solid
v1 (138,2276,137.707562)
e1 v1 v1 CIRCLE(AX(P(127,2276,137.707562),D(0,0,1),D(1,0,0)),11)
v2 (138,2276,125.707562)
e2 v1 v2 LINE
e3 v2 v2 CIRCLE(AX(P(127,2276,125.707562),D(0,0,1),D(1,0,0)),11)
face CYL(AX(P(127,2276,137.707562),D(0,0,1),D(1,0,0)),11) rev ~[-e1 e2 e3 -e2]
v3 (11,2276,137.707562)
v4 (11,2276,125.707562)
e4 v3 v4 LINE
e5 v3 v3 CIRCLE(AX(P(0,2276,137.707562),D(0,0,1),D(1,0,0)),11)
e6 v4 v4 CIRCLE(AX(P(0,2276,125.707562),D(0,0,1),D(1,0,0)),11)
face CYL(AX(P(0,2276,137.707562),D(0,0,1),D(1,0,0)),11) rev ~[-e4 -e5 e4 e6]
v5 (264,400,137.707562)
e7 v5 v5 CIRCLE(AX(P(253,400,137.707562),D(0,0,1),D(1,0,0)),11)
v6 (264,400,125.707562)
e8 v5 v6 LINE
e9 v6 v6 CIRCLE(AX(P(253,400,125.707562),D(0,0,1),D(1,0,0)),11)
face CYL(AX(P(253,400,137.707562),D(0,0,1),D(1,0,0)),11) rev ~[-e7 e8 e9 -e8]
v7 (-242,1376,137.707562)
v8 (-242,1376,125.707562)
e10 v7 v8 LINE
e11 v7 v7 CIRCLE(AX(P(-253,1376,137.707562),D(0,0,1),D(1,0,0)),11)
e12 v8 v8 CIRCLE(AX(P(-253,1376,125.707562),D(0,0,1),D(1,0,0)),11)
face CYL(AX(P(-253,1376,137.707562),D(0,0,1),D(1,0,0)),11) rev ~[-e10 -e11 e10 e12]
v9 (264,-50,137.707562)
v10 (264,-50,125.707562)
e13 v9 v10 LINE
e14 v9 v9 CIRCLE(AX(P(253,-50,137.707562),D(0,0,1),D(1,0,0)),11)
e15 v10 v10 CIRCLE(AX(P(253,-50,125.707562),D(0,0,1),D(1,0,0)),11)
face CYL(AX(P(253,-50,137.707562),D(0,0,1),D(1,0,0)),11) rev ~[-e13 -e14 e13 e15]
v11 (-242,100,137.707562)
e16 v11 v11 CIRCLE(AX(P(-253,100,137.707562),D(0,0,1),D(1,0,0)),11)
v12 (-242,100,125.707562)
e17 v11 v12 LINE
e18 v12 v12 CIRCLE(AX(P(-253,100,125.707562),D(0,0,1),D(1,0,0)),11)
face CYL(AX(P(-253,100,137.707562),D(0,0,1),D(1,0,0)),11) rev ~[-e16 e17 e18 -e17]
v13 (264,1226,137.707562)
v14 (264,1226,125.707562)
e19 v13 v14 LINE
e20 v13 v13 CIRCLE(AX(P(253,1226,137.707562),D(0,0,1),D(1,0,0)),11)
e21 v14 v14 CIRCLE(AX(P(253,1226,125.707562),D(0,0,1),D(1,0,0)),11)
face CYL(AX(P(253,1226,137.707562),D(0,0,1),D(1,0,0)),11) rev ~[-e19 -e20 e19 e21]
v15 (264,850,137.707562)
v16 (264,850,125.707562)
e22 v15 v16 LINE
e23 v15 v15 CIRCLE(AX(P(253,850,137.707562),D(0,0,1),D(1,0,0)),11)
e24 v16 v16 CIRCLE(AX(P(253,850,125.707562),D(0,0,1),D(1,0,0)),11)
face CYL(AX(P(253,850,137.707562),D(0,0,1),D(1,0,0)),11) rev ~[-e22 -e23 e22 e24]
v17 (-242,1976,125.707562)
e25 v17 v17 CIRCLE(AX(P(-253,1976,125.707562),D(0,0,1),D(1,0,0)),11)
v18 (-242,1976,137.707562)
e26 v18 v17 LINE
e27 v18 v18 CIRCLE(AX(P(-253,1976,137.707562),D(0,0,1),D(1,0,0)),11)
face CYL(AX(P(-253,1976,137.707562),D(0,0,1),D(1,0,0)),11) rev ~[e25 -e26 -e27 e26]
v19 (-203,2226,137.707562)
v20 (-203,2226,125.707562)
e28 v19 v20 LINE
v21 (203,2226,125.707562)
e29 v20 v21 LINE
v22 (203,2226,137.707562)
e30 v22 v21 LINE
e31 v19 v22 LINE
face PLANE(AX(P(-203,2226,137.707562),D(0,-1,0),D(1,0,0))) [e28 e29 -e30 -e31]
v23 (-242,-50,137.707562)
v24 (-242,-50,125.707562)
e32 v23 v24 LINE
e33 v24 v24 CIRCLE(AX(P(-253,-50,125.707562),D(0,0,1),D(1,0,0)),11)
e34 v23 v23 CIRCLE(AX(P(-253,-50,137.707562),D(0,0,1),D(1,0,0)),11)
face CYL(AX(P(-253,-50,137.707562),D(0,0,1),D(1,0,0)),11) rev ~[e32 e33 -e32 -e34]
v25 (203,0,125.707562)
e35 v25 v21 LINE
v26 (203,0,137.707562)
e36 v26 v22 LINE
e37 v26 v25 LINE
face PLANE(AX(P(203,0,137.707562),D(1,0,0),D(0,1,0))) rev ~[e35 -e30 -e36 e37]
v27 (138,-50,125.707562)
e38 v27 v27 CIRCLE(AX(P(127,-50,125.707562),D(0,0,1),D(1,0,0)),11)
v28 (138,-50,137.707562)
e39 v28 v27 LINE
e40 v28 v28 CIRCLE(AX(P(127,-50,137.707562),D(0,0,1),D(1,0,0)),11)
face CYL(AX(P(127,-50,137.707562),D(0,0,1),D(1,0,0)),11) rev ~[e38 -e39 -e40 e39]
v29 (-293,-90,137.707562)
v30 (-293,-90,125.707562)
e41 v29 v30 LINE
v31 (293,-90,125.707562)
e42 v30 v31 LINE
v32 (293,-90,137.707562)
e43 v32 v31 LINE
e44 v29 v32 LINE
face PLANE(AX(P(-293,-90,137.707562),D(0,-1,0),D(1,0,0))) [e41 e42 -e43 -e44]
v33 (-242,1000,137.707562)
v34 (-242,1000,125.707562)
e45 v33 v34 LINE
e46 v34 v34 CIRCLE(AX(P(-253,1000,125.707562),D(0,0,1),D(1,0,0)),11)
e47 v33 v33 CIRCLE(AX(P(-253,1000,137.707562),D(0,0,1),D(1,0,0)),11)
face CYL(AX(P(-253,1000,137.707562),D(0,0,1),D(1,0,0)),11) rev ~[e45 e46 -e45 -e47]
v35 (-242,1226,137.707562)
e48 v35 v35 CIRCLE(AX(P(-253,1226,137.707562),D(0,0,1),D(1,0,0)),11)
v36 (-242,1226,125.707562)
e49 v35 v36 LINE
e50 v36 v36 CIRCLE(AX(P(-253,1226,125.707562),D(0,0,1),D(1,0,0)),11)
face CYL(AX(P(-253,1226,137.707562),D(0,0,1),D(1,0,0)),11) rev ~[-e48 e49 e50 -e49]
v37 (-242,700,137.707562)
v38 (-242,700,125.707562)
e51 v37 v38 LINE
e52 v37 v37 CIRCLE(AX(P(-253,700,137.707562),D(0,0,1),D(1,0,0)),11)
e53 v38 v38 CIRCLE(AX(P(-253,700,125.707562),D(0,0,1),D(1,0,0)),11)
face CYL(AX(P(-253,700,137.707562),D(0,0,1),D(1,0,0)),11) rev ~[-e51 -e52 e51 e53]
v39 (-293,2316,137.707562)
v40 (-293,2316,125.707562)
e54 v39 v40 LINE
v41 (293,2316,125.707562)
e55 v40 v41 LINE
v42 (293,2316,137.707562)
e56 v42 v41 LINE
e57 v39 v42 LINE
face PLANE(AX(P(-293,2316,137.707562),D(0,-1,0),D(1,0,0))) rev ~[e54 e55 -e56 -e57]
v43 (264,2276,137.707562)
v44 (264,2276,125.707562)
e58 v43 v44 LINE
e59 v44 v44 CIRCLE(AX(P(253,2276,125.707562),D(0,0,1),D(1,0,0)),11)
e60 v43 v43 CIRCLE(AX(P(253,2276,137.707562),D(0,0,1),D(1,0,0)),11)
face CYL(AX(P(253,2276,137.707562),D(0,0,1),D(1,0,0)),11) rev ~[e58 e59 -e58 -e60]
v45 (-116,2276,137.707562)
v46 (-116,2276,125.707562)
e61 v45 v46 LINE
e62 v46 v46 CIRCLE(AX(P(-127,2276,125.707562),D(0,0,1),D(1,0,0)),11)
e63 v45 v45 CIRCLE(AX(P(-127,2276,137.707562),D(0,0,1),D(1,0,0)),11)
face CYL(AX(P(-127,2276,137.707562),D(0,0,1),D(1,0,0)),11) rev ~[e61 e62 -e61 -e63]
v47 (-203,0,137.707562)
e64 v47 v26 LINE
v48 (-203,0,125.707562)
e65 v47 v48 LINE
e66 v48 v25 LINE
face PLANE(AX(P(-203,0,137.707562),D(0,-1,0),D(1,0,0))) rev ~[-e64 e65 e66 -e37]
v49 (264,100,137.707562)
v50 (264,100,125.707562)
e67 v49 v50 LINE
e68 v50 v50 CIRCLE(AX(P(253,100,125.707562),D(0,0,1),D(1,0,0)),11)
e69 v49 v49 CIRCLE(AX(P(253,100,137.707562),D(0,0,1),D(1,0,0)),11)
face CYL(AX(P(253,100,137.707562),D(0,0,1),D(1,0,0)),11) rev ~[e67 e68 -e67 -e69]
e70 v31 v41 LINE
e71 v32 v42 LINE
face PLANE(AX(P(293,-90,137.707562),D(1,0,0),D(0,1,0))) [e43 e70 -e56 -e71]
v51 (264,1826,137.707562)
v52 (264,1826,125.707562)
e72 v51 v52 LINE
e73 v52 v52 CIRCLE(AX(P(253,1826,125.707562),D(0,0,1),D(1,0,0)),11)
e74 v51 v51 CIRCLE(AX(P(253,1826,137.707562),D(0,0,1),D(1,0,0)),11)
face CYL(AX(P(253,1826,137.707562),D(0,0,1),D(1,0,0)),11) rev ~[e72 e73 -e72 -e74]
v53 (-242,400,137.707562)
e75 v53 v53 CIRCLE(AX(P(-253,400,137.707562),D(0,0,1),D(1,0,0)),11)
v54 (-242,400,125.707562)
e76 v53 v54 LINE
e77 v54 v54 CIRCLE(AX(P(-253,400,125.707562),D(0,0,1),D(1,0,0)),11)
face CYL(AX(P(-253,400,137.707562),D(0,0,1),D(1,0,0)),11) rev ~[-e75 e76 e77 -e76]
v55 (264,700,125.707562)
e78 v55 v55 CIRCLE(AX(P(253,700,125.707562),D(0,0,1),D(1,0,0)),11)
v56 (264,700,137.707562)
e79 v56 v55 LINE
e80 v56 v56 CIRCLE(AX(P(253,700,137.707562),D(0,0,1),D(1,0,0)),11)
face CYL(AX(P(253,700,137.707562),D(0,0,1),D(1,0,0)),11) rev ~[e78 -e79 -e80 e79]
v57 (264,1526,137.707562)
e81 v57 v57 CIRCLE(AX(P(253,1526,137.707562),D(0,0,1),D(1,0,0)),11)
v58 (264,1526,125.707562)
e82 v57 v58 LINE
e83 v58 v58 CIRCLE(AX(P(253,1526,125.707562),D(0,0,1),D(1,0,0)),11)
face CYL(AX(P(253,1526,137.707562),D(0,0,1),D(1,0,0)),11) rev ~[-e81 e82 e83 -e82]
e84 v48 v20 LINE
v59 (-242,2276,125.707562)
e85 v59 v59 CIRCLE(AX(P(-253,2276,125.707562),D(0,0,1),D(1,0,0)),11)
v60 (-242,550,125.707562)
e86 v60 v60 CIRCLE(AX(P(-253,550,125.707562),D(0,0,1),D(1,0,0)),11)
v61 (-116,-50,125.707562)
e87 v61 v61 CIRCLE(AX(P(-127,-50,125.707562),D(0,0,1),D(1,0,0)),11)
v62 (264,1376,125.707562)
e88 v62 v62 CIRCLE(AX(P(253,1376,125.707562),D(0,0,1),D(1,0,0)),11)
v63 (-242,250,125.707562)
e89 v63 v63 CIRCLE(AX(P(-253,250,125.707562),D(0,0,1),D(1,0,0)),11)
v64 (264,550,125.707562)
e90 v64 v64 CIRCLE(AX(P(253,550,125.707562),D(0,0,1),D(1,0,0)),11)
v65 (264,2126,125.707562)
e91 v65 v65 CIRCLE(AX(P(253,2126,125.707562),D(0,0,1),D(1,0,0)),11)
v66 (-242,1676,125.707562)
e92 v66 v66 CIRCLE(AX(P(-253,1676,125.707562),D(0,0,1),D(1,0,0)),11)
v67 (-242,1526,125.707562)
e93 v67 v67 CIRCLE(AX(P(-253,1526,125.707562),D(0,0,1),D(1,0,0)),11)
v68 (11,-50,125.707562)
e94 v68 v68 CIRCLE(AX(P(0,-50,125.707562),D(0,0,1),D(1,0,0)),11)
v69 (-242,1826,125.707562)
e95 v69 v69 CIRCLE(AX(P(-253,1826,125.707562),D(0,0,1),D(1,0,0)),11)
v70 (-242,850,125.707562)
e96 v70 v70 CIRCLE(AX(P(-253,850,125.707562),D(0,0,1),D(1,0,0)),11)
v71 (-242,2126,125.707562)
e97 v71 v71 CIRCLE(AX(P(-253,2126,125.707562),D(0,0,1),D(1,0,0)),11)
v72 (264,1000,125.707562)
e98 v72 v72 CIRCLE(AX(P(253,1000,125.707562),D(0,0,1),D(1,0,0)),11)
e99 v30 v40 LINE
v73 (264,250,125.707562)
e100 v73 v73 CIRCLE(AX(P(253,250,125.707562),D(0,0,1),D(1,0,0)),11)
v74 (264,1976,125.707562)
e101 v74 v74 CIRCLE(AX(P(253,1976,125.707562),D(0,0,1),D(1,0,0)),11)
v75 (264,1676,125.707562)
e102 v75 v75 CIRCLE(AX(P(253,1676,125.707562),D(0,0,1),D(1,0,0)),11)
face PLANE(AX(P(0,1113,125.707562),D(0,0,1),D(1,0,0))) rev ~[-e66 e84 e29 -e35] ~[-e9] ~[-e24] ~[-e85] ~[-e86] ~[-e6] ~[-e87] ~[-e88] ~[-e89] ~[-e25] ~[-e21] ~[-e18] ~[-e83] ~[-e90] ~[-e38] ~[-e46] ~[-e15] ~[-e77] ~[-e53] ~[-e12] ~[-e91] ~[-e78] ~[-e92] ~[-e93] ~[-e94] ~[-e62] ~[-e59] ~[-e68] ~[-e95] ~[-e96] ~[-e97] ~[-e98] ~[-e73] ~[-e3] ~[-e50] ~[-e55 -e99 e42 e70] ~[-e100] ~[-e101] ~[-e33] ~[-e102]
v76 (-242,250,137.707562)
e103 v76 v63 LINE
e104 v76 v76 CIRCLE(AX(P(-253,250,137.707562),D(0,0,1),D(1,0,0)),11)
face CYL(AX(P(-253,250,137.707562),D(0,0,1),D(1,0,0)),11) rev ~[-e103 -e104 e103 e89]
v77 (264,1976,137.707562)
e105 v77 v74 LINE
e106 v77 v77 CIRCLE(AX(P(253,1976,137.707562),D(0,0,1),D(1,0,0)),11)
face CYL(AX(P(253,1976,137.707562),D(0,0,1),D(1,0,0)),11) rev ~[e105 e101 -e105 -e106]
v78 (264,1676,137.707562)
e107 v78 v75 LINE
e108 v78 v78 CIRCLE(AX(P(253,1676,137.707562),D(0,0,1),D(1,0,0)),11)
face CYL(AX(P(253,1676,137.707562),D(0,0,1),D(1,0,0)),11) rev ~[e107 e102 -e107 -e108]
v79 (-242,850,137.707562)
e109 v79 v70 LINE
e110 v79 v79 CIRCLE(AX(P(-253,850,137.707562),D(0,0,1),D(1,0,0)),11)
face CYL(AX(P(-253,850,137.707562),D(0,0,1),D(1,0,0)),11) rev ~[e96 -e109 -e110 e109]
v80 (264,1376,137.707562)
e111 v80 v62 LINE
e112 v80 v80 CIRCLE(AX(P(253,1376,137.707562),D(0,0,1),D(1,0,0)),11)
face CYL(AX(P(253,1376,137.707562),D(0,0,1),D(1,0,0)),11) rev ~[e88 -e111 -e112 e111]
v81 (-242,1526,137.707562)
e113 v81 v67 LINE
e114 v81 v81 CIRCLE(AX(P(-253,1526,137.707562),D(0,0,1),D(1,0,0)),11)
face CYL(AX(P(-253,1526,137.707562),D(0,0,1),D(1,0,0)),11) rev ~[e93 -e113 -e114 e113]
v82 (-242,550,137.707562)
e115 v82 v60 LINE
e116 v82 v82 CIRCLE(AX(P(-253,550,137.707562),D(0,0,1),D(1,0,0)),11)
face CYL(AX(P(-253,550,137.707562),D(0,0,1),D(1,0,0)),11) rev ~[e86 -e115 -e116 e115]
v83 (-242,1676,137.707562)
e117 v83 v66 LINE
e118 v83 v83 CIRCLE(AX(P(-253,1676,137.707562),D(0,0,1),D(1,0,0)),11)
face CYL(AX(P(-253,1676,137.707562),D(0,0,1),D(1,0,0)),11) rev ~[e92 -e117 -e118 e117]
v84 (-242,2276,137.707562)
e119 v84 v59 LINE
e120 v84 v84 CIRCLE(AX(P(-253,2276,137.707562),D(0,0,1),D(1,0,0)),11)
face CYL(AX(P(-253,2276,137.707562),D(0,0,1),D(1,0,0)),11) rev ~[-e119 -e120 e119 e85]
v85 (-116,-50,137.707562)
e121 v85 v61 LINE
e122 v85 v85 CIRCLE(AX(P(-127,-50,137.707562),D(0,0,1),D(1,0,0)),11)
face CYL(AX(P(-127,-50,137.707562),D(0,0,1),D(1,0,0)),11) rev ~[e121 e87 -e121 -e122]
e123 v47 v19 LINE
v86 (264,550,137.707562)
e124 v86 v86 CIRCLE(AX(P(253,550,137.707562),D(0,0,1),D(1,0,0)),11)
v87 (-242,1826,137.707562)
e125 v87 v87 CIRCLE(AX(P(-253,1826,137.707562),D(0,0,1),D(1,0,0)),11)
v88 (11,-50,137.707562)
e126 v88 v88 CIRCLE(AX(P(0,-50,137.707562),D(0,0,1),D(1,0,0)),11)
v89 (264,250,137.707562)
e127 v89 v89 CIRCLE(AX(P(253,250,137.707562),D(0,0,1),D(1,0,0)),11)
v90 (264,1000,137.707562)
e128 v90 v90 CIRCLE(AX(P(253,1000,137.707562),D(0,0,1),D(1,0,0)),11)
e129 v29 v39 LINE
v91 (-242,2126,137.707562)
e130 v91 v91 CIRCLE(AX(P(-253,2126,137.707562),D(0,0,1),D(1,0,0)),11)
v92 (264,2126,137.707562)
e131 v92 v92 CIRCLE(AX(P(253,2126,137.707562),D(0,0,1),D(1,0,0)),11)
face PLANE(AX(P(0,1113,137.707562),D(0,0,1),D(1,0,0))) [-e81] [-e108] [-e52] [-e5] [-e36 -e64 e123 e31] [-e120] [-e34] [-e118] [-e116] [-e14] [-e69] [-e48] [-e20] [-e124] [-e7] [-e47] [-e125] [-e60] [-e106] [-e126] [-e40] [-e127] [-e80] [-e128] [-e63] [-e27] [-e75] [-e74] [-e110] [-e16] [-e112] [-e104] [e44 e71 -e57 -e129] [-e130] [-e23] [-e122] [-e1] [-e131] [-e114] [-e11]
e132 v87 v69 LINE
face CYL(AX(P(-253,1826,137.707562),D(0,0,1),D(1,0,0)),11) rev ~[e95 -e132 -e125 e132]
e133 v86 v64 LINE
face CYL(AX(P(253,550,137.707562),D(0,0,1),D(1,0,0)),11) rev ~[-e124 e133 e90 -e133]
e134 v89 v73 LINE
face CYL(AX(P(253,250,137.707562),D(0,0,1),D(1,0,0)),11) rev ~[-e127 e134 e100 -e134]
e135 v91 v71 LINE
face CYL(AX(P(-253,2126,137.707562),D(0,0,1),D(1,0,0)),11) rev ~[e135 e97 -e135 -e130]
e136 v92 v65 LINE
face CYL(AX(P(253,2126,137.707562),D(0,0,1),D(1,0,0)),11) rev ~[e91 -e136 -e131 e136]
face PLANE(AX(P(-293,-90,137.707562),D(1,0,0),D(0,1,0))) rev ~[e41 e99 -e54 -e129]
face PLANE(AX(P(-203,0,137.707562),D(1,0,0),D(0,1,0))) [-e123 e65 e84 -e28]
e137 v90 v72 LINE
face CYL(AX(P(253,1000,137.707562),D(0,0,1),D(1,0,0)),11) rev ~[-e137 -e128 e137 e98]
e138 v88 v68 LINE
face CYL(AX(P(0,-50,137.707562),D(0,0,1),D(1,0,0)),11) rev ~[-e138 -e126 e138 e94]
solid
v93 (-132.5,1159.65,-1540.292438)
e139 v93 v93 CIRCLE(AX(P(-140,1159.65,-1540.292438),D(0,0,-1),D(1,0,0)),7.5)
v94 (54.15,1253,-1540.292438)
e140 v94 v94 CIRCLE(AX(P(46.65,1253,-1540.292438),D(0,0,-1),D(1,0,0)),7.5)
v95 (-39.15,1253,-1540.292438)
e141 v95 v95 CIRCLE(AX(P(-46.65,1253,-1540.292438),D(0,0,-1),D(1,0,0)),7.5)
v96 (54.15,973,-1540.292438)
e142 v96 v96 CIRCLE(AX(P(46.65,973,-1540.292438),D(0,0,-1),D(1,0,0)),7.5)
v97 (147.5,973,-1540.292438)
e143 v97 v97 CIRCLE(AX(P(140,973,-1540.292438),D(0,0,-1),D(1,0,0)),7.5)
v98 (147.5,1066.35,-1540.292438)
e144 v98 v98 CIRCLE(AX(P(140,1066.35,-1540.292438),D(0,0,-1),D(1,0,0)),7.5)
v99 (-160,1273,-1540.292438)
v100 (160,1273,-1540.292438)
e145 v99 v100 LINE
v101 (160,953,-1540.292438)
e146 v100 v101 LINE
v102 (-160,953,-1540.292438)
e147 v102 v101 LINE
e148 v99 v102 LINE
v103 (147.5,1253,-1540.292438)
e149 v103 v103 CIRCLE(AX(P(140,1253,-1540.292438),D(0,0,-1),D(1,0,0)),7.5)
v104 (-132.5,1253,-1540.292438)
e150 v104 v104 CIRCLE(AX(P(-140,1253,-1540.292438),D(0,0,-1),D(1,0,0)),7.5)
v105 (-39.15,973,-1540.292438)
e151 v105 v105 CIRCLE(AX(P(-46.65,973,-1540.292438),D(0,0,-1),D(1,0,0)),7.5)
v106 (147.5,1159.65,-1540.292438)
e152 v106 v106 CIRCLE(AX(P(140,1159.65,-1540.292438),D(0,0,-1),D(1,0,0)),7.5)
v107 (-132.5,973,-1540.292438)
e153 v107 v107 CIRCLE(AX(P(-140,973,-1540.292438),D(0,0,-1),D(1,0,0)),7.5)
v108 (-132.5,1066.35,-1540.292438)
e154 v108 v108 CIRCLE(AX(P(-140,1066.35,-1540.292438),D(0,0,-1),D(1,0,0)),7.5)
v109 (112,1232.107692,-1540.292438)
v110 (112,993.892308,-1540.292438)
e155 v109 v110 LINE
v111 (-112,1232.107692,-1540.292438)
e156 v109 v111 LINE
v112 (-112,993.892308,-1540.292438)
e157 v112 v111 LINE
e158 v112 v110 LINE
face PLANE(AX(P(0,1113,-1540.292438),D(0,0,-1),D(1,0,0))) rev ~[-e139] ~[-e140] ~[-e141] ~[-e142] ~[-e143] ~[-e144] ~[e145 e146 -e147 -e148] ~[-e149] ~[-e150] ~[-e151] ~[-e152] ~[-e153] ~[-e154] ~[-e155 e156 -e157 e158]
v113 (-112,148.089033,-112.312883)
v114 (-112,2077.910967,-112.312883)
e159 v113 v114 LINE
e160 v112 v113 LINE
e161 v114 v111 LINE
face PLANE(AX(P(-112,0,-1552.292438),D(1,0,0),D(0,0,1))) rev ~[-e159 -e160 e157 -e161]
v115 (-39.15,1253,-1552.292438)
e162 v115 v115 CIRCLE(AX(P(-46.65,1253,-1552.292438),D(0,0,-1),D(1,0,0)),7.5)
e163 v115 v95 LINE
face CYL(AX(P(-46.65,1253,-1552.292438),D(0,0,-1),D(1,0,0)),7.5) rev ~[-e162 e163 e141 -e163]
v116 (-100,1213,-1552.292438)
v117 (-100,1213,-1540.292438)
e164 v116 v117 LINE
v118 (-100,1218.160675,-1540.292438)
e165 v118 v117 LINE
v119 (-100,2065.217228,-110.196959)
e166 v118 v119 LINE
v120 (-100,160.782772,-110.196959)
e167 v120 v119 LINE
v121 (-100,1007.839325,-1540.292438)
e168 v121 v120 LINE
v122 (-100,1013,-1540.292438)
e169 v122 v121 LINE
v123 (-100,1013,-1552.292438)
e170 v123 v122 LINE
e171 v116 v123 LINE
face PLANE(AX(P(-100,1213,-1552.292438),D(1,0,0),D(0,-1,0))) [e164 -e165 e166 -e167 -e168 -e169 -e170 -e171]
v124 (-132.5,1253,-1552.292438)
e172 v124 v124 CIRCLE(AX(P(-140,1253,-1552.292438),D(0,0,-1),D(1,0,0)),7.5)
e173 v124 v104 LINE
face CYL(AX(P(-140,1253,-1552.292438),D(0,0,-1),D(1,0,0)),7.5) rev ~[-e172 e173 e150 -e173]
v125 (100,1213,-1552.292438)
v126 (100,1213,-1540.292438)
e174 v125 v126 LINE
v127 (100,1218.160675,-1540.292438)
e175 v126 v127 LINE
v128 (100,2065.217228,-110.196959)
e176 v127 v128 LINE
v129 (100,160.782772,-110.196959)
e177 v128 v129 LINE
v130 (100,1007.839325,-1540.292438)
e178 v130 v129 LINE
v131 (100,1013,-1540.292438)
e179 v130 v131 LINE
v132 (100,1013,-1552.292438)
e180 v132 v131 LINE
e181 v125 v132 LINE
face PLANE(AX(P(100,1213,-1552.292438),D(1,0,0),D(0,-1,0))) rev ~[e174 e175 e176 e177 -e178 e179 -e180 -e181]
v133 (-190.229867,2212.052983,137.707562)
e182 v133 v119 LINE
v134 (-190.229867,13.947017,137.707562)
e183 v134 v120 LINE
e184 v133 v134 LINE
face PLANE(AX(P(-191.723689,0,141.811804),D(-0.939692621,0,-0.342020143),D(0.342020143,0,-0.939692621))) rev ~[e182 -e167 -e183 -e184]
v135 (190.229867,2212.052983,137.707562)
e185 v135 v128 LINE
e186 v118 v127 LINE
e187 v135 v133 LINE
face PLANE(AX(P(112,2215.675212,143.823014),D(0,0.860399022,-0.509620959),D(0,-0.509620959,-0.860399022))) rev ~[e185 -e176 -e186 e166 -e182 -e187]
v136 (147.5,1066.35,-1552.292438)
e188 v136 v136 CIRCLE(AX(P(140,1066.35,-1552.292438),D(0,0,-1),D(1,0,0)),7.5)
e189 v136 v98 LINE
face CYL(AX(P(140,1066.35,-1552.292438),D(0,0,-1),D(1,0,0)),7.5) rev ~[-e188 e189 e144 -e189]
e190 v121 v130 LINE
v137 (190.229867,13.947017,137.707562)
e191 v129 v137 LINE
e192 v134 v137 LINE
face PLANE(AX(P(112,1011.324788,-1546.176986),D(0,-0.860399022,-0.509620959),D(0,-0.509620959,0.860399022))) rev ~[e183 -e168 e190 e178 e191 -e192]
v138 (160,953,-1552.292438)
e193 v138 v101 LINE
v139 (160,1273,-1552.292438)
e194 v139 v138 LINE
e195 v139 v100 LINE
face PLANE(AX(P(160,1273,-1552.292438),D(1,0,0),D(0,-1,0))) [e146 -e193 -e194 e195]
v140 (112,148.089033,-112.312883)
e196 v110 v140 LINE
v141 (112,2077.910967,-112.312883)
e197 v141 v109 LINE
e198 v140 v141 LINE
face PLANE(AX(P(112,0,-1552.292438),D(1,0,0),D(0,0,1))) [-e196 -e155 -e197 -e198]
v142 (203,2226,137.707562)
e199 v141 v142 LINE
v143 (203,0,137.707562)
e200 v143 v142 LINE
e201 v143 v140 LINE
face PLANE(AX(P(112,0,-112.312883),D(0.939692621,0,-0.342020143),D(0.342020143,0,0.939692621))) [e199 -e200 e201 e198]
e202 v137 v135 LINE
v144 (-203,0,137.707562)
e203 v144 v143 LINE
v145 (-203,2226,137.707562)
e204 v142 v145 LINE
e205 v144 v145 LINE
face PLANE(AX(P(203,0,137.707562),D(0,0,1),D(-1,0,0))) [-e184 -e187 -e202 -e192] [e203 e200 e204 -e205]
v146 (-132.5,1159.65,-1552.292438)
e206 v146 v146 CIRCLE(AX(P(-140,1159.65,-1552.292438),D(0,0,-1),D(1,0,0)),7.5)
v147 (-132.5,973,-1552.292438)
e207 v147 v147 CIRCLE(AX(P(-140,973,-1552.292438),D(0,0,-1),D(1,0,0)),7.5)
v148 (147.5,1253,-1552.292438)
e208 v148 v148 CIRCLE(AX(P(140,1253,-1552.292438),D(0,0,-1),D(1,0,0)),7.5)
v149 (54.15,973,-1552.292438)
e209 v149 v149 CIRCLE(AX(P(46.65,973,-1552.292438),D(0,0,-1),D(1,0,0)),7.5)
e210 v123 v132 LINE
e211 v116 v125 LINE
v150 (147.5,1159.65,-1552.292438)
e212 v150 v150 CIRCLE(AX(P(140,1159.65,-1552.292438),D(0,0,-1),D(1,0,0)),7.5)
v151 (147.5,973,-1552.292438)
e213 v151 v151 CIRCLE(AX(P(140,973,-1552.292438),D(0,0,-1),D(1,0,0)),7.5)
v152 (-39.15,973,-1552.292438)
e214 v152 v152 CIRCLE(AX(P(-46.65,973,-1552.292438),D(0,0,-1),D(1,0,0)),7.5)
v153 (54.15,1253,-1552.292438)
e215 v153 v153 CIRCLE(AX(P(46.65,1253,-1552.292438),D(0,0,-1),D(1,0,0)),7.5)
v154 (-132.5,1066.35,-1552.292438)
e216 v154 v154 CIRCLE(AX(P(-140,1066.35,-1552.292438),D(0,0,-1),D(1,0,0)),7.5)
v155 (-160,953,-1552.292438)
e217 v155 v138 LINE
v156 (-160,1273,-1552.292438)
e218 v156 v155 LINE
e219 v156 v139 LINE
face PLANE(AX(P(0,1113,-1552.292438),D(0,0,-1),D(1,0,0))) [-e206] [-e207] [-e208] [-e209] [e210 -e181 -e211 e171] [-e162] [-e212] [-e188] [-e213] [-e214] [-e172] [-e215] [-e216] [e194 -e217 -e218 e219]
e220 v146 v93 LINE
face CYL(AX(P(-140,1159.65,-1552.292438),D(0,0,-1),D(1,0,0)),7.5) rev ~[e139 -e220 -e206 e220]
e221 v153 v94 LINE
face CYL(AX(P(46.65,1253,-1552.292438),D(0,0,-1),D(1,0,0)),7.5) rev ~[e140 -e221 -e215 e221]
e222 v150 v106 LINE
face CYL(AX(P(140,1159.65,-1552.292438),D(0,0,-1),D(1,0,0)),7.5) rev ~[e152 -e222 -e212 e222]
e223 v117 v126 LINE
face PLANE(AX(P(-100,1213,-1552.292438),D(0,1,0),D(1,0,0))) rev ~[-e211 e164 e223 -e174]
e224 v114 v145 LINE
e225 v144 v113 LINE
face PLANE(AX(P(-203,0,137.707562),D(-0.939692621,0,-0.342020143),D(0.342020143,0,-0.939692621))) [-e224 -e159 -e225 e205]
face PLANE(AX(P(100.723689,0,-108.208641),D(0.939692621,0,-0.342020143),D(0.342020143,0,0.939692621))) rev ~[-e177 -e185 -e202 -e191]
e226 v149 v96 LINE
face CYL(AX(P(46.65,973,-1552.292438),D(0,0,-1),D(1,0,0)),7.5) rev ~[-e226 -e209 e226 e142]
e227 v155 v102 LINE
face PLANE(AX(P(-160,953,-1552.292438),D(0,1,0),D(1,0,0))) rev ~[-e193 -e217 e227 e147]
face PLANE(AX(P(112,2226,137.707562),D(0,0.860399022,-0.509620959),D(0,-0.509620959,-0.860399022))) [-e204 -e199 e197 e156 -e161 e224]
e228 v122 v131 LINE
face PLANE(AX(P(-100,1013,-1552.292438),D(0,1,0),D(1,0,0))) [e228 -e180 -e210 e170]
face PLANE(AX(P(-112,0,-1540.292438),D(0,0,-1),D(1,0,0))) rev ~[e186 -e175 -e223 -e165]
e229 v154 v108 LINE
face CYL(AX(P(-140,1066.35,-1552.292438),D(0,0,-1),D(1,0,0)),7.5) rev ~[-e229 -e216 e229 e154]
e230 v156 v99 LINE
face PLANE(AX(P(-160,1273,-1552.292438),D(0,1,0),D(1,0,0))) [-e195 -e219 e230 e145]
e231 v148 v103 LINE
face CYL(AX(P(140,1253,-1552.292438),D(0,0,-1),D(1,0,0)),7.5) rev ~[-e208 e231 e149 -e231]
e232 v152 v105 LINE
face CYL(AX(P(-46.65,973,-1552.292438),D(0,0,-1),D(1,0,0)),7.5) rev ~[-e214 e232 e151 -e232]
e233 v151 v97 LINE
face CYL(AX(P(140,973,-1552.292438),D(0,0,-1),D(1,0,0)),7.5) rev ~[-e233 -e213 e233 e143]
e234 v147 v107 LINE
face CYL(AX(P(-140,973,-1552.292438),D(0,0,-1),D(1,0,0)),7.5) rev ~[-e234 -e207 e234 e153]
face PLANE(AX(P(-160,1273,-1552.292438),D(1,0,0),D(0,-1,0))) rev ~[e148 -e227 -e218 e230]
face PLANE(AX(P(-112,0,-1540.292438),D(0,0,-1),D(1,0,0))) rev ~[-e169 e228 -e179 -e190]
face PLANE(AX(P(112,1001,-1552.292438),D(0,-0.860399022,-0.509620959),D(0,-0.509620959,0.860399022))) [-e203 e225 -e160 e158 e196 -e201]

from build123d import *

# Parameters (mm, degrees)
F0_W          = 224
F0_H          = 1439.9795548296
F1_DEPTH      = 2226
F3_DEPTH      = 400
F3_DEPTH_BACK = 400
F4_T          = -12
F5_W          = 200
F5_H          = 200
F6_DEPTH      = 1690.001
F7_W          = 586
F7_H          = 2406
F7_R          = 11
F7_W_2        = 406
F7_H_2        = 2226
F8_DEPTH      = 12
F9_W          = 320
F9_H          = 320
F9_W_2        = 224
F9_H_2        = 224
F10_DEPTH     = 12
F11_R         = 7.5
F12_DEPTH     = 12


with BuildPart() as f1:
    # F0 (on Front) → F1 (new body)
    with BuildSketch(Plane.XZ):
        Polygon((203, 137.7075620317), (-203, 137.7075620317), (-112, -112.3128831387), (112, -112.3128831387), align=None)
        with Locations((0, -832.3026605535)):
            Rectangle(F0_W, F0_H)
    extrude(amount=-F1_DEPTH)

    # F2 (on face) → F3 (cut, two sides)
    with BuildSketch(Plane.YZ.offset(112)) as f3_sk:
        Polygon((2226, 137.7075620317), (1225, -1552.2924379683), (2226, -1552.2924379683), align=None)
        Polygon((0, -1552.2924379683), (1001, -1552.2924379683), (0, 137.7075620317), align=None)
    extrude(amount=-F3_DEPTH, mode=Mode.SUBTRACT)
    extrude(f3_sk.sketch, amount=F3_DEPTH_BACK, mode=Mode.SUBTRACT)

    # F4
    f4_openings = [f1.faces().sort_by_distance(p)[0] for p in [
        (0, 1113, 137.707562),
    ]]
    offset(amount=F4_T, openings=f4_openings, kind=Kind.INTERSECTION)

    # F5 (on face) → F6 (cut, through all)
    with BuildSketch(Plane(origin=(0, 0, -1552.2924379683), x_dir=(1, 0, 0), z_dir=(0, 0, -1))):
        with Locations((0, -1113)):
            Rectangle(F5_W, F5_H)
    extrude(amount=-F6_DEPTH, mode=Mode.SUBTRACT)

    # F9 (on face) → F10 (join)
    with BuildSketch(Plane(origin=(0, 0, -1552.2924379683), x_dir=(1, 0, 0), z_dir=(0, 0, -1))):
        with Locations((0, -1113)):
            Rectangle(F9_W, F9_H)
        with Locations((0, -1113)):
            Rectangle(F9_W_2, F9_H_2, mode=Mode.SUBTRACT)
    extrude(amount=-F10_DEPTH)

    # F11 (on face) → F12 (cut)
    with BuildSketch(Plane(origin=(0, 0, -1552.2924379683), x_dir=(1, 0, 0), z_dir=(0, 0, -1))):
        with Locations((140, -973)):
            Circle(F11_R)
        with Locations((140, -1066.35)):
            Circle(F11_R)
        with Locations((46.65, -973)):
            Circle(F11_R)
        with Locations((140, -1159.65)):
            Circle(F11_R)
        with Locations((140, -1253)):
            Circle(F11_R)
        with Locations((46.65, -1253)):
            Circle(F11_R)
        with Locations((-46.65, -973)):
            Circle(F11_R)
        with Locations((-140, -973)):
            Circle(F11_R)
        with Locations((-140, -1066.35)):
            Circle(F11_R)
        with Locations((-140, -1159.65)):
            Circle(F11_R)
        with Locations((-140, -1253)):
            Circle(F11_R)
        with Locations((-46.65, -1253)):
            Circle(F11_R)
    extrude(amount=-F12_DEPTH, mode=Mode.SUBTRACT)


with BuildPart() as f8:
    # F7 (on face) → F8 (new body)
    with BuildSketch(Plane.XY.offset(137.7075620317)):
        with Locations((0, 1113)):
            Rectangle(F7_W, F7_H)
        with Locations((-253, -50)):
            Circle(F7_R, mode=Mode.SUBTRACT)
        with Locations((-253, 100)):
            Circle(F7_R, mode=Mode.SUBTRACT)
        with Locations((-253, 250)):
            Circle(F7_R, mode=Mode.SUBTRACT)
        with Locations((-253, 400)):
            Circle(F7_R, mode=Mode.SUBTRACT)
        with Locations((-127, -50)):
            Circle(F7_R, mode=Mode.SUBTRACT)
        with Locations((-253, 550)):
            Circle(F7_R, mode=Mode.SUBTRACT)
        with Locations((-253, 700)):
            Circle(F7_R, mode=Mode.SUBTRACT)
        with Locations((-253, 850)):
            Circle(F7_R, mode=Mode.SUBTRACT)
        with Locations((-253, 1000)):
            Circle(F7_R, mode=Mode.SUBTRACT)
        with Locations((0, -50)):
            Circle(F7_R, mode=Mode.SUBTRACT)
        with Locations((127, -50)):
            Circle(F7_R, mode=Mode.SUBTRACT)
        with Locations((253, -50)):
            Circle(F7_R, mode=Mode.SUBTRACT)
        with Locations((253, 100)):
            Circle(F7_R, mode=Mode.SUBTRACT)
        with Locations((253, 250)):
            Circle(F7_R, mode=Mode.SUBTRACT)
        with Locations((253, 400)):
            Circle(F7_R, mode=Mode.SUBTRACT)
        with Locations((253, 550)):
            Circle(F7_R, mode=Mode.SUBTRACT)
        with Locations((253, 700)):
            Circle(F7_R, mode=Mode.SUBTRACT)
        with Locations((253, 850)):
            Circle(F7_R, mode=Mode.SUBTRACT)
        with Locations((253, 1000)):
            Circle(F7_R, mode=Mode.SUBTRACT)
        with Locations((-253, 1226)):
            Circle(F7_R, mode=Mode.SUBTRACT)
        with Locations((-253, 1376)):
            Circle(F7_R, mode=Mode.SUBTRACT)
        with Locations((-253, 1526)):
            Circle(F7_R, mode=Mode.SUBTRACT)
        with Locations((-253, 1676)):
            Circle(F7_R, mode=Mode.SUBTRACT)
        with Locations((-253, 1826)):
            Circle(F7_R, mode=Mode.SUBTRACT)
        with Locations((-253, 1976)):
            Circle(F7_R, mode=Mode.SUBTRACT)
        with Locations((-253, 2126)):
            Circle(F7_R, mode=Mode.SUBTRACT)
        with Locations((-253, 2276)):
            Circle(F7_R, mode=Mode.SUBTRACT)
        with Locations((-127, 2276)):
            Circle(F7_R, mode=Mode.SUBTRACT)
        with Locations((0, 1113)):
            Rectangle(F7_W_2, F7_H_2, mode=Mode.SUBTRACT)
        with Locations((253, 1226)):
            Circle(F7_R, mode=Mode.SUBTRACT)
        with Locations((253, 1376)):
            Circle(F7_R, mode=Mode.SUBTRACT)
        with Locations((253, 1526)):
            Circle(F7_R, mode=Mode.SUBTRACT)
        with Locations((253, 1676)):
            Circle(F7_R, mode=Mode.SUBTRACT)
        with Locations((0, 2276)):
            Circle(F7_R, mode=Mode.SUBTRACT)
        with Locations((127, 2276)):
            Circle(F7_R, mode=Mode.SUBTRACT)
        with Locations((253, 1826)):
            Circle(F7_R, mode=Mode.SUBTRACT)
        with Locations((253, 1976)):
            Circle(F7_R, mode=Mode.SUBTRACT)
        with Locations((253, 2126)):
            Circle(F7_R, mode=Mode.SUBTRACT)
        with Locations((253, 2276)):
            Circle(F7_R, mode=Mode.SUBTRACT)
    extrude(amount=-F8_DEPTH)


solid = Compound([f1.part, f8.part])
